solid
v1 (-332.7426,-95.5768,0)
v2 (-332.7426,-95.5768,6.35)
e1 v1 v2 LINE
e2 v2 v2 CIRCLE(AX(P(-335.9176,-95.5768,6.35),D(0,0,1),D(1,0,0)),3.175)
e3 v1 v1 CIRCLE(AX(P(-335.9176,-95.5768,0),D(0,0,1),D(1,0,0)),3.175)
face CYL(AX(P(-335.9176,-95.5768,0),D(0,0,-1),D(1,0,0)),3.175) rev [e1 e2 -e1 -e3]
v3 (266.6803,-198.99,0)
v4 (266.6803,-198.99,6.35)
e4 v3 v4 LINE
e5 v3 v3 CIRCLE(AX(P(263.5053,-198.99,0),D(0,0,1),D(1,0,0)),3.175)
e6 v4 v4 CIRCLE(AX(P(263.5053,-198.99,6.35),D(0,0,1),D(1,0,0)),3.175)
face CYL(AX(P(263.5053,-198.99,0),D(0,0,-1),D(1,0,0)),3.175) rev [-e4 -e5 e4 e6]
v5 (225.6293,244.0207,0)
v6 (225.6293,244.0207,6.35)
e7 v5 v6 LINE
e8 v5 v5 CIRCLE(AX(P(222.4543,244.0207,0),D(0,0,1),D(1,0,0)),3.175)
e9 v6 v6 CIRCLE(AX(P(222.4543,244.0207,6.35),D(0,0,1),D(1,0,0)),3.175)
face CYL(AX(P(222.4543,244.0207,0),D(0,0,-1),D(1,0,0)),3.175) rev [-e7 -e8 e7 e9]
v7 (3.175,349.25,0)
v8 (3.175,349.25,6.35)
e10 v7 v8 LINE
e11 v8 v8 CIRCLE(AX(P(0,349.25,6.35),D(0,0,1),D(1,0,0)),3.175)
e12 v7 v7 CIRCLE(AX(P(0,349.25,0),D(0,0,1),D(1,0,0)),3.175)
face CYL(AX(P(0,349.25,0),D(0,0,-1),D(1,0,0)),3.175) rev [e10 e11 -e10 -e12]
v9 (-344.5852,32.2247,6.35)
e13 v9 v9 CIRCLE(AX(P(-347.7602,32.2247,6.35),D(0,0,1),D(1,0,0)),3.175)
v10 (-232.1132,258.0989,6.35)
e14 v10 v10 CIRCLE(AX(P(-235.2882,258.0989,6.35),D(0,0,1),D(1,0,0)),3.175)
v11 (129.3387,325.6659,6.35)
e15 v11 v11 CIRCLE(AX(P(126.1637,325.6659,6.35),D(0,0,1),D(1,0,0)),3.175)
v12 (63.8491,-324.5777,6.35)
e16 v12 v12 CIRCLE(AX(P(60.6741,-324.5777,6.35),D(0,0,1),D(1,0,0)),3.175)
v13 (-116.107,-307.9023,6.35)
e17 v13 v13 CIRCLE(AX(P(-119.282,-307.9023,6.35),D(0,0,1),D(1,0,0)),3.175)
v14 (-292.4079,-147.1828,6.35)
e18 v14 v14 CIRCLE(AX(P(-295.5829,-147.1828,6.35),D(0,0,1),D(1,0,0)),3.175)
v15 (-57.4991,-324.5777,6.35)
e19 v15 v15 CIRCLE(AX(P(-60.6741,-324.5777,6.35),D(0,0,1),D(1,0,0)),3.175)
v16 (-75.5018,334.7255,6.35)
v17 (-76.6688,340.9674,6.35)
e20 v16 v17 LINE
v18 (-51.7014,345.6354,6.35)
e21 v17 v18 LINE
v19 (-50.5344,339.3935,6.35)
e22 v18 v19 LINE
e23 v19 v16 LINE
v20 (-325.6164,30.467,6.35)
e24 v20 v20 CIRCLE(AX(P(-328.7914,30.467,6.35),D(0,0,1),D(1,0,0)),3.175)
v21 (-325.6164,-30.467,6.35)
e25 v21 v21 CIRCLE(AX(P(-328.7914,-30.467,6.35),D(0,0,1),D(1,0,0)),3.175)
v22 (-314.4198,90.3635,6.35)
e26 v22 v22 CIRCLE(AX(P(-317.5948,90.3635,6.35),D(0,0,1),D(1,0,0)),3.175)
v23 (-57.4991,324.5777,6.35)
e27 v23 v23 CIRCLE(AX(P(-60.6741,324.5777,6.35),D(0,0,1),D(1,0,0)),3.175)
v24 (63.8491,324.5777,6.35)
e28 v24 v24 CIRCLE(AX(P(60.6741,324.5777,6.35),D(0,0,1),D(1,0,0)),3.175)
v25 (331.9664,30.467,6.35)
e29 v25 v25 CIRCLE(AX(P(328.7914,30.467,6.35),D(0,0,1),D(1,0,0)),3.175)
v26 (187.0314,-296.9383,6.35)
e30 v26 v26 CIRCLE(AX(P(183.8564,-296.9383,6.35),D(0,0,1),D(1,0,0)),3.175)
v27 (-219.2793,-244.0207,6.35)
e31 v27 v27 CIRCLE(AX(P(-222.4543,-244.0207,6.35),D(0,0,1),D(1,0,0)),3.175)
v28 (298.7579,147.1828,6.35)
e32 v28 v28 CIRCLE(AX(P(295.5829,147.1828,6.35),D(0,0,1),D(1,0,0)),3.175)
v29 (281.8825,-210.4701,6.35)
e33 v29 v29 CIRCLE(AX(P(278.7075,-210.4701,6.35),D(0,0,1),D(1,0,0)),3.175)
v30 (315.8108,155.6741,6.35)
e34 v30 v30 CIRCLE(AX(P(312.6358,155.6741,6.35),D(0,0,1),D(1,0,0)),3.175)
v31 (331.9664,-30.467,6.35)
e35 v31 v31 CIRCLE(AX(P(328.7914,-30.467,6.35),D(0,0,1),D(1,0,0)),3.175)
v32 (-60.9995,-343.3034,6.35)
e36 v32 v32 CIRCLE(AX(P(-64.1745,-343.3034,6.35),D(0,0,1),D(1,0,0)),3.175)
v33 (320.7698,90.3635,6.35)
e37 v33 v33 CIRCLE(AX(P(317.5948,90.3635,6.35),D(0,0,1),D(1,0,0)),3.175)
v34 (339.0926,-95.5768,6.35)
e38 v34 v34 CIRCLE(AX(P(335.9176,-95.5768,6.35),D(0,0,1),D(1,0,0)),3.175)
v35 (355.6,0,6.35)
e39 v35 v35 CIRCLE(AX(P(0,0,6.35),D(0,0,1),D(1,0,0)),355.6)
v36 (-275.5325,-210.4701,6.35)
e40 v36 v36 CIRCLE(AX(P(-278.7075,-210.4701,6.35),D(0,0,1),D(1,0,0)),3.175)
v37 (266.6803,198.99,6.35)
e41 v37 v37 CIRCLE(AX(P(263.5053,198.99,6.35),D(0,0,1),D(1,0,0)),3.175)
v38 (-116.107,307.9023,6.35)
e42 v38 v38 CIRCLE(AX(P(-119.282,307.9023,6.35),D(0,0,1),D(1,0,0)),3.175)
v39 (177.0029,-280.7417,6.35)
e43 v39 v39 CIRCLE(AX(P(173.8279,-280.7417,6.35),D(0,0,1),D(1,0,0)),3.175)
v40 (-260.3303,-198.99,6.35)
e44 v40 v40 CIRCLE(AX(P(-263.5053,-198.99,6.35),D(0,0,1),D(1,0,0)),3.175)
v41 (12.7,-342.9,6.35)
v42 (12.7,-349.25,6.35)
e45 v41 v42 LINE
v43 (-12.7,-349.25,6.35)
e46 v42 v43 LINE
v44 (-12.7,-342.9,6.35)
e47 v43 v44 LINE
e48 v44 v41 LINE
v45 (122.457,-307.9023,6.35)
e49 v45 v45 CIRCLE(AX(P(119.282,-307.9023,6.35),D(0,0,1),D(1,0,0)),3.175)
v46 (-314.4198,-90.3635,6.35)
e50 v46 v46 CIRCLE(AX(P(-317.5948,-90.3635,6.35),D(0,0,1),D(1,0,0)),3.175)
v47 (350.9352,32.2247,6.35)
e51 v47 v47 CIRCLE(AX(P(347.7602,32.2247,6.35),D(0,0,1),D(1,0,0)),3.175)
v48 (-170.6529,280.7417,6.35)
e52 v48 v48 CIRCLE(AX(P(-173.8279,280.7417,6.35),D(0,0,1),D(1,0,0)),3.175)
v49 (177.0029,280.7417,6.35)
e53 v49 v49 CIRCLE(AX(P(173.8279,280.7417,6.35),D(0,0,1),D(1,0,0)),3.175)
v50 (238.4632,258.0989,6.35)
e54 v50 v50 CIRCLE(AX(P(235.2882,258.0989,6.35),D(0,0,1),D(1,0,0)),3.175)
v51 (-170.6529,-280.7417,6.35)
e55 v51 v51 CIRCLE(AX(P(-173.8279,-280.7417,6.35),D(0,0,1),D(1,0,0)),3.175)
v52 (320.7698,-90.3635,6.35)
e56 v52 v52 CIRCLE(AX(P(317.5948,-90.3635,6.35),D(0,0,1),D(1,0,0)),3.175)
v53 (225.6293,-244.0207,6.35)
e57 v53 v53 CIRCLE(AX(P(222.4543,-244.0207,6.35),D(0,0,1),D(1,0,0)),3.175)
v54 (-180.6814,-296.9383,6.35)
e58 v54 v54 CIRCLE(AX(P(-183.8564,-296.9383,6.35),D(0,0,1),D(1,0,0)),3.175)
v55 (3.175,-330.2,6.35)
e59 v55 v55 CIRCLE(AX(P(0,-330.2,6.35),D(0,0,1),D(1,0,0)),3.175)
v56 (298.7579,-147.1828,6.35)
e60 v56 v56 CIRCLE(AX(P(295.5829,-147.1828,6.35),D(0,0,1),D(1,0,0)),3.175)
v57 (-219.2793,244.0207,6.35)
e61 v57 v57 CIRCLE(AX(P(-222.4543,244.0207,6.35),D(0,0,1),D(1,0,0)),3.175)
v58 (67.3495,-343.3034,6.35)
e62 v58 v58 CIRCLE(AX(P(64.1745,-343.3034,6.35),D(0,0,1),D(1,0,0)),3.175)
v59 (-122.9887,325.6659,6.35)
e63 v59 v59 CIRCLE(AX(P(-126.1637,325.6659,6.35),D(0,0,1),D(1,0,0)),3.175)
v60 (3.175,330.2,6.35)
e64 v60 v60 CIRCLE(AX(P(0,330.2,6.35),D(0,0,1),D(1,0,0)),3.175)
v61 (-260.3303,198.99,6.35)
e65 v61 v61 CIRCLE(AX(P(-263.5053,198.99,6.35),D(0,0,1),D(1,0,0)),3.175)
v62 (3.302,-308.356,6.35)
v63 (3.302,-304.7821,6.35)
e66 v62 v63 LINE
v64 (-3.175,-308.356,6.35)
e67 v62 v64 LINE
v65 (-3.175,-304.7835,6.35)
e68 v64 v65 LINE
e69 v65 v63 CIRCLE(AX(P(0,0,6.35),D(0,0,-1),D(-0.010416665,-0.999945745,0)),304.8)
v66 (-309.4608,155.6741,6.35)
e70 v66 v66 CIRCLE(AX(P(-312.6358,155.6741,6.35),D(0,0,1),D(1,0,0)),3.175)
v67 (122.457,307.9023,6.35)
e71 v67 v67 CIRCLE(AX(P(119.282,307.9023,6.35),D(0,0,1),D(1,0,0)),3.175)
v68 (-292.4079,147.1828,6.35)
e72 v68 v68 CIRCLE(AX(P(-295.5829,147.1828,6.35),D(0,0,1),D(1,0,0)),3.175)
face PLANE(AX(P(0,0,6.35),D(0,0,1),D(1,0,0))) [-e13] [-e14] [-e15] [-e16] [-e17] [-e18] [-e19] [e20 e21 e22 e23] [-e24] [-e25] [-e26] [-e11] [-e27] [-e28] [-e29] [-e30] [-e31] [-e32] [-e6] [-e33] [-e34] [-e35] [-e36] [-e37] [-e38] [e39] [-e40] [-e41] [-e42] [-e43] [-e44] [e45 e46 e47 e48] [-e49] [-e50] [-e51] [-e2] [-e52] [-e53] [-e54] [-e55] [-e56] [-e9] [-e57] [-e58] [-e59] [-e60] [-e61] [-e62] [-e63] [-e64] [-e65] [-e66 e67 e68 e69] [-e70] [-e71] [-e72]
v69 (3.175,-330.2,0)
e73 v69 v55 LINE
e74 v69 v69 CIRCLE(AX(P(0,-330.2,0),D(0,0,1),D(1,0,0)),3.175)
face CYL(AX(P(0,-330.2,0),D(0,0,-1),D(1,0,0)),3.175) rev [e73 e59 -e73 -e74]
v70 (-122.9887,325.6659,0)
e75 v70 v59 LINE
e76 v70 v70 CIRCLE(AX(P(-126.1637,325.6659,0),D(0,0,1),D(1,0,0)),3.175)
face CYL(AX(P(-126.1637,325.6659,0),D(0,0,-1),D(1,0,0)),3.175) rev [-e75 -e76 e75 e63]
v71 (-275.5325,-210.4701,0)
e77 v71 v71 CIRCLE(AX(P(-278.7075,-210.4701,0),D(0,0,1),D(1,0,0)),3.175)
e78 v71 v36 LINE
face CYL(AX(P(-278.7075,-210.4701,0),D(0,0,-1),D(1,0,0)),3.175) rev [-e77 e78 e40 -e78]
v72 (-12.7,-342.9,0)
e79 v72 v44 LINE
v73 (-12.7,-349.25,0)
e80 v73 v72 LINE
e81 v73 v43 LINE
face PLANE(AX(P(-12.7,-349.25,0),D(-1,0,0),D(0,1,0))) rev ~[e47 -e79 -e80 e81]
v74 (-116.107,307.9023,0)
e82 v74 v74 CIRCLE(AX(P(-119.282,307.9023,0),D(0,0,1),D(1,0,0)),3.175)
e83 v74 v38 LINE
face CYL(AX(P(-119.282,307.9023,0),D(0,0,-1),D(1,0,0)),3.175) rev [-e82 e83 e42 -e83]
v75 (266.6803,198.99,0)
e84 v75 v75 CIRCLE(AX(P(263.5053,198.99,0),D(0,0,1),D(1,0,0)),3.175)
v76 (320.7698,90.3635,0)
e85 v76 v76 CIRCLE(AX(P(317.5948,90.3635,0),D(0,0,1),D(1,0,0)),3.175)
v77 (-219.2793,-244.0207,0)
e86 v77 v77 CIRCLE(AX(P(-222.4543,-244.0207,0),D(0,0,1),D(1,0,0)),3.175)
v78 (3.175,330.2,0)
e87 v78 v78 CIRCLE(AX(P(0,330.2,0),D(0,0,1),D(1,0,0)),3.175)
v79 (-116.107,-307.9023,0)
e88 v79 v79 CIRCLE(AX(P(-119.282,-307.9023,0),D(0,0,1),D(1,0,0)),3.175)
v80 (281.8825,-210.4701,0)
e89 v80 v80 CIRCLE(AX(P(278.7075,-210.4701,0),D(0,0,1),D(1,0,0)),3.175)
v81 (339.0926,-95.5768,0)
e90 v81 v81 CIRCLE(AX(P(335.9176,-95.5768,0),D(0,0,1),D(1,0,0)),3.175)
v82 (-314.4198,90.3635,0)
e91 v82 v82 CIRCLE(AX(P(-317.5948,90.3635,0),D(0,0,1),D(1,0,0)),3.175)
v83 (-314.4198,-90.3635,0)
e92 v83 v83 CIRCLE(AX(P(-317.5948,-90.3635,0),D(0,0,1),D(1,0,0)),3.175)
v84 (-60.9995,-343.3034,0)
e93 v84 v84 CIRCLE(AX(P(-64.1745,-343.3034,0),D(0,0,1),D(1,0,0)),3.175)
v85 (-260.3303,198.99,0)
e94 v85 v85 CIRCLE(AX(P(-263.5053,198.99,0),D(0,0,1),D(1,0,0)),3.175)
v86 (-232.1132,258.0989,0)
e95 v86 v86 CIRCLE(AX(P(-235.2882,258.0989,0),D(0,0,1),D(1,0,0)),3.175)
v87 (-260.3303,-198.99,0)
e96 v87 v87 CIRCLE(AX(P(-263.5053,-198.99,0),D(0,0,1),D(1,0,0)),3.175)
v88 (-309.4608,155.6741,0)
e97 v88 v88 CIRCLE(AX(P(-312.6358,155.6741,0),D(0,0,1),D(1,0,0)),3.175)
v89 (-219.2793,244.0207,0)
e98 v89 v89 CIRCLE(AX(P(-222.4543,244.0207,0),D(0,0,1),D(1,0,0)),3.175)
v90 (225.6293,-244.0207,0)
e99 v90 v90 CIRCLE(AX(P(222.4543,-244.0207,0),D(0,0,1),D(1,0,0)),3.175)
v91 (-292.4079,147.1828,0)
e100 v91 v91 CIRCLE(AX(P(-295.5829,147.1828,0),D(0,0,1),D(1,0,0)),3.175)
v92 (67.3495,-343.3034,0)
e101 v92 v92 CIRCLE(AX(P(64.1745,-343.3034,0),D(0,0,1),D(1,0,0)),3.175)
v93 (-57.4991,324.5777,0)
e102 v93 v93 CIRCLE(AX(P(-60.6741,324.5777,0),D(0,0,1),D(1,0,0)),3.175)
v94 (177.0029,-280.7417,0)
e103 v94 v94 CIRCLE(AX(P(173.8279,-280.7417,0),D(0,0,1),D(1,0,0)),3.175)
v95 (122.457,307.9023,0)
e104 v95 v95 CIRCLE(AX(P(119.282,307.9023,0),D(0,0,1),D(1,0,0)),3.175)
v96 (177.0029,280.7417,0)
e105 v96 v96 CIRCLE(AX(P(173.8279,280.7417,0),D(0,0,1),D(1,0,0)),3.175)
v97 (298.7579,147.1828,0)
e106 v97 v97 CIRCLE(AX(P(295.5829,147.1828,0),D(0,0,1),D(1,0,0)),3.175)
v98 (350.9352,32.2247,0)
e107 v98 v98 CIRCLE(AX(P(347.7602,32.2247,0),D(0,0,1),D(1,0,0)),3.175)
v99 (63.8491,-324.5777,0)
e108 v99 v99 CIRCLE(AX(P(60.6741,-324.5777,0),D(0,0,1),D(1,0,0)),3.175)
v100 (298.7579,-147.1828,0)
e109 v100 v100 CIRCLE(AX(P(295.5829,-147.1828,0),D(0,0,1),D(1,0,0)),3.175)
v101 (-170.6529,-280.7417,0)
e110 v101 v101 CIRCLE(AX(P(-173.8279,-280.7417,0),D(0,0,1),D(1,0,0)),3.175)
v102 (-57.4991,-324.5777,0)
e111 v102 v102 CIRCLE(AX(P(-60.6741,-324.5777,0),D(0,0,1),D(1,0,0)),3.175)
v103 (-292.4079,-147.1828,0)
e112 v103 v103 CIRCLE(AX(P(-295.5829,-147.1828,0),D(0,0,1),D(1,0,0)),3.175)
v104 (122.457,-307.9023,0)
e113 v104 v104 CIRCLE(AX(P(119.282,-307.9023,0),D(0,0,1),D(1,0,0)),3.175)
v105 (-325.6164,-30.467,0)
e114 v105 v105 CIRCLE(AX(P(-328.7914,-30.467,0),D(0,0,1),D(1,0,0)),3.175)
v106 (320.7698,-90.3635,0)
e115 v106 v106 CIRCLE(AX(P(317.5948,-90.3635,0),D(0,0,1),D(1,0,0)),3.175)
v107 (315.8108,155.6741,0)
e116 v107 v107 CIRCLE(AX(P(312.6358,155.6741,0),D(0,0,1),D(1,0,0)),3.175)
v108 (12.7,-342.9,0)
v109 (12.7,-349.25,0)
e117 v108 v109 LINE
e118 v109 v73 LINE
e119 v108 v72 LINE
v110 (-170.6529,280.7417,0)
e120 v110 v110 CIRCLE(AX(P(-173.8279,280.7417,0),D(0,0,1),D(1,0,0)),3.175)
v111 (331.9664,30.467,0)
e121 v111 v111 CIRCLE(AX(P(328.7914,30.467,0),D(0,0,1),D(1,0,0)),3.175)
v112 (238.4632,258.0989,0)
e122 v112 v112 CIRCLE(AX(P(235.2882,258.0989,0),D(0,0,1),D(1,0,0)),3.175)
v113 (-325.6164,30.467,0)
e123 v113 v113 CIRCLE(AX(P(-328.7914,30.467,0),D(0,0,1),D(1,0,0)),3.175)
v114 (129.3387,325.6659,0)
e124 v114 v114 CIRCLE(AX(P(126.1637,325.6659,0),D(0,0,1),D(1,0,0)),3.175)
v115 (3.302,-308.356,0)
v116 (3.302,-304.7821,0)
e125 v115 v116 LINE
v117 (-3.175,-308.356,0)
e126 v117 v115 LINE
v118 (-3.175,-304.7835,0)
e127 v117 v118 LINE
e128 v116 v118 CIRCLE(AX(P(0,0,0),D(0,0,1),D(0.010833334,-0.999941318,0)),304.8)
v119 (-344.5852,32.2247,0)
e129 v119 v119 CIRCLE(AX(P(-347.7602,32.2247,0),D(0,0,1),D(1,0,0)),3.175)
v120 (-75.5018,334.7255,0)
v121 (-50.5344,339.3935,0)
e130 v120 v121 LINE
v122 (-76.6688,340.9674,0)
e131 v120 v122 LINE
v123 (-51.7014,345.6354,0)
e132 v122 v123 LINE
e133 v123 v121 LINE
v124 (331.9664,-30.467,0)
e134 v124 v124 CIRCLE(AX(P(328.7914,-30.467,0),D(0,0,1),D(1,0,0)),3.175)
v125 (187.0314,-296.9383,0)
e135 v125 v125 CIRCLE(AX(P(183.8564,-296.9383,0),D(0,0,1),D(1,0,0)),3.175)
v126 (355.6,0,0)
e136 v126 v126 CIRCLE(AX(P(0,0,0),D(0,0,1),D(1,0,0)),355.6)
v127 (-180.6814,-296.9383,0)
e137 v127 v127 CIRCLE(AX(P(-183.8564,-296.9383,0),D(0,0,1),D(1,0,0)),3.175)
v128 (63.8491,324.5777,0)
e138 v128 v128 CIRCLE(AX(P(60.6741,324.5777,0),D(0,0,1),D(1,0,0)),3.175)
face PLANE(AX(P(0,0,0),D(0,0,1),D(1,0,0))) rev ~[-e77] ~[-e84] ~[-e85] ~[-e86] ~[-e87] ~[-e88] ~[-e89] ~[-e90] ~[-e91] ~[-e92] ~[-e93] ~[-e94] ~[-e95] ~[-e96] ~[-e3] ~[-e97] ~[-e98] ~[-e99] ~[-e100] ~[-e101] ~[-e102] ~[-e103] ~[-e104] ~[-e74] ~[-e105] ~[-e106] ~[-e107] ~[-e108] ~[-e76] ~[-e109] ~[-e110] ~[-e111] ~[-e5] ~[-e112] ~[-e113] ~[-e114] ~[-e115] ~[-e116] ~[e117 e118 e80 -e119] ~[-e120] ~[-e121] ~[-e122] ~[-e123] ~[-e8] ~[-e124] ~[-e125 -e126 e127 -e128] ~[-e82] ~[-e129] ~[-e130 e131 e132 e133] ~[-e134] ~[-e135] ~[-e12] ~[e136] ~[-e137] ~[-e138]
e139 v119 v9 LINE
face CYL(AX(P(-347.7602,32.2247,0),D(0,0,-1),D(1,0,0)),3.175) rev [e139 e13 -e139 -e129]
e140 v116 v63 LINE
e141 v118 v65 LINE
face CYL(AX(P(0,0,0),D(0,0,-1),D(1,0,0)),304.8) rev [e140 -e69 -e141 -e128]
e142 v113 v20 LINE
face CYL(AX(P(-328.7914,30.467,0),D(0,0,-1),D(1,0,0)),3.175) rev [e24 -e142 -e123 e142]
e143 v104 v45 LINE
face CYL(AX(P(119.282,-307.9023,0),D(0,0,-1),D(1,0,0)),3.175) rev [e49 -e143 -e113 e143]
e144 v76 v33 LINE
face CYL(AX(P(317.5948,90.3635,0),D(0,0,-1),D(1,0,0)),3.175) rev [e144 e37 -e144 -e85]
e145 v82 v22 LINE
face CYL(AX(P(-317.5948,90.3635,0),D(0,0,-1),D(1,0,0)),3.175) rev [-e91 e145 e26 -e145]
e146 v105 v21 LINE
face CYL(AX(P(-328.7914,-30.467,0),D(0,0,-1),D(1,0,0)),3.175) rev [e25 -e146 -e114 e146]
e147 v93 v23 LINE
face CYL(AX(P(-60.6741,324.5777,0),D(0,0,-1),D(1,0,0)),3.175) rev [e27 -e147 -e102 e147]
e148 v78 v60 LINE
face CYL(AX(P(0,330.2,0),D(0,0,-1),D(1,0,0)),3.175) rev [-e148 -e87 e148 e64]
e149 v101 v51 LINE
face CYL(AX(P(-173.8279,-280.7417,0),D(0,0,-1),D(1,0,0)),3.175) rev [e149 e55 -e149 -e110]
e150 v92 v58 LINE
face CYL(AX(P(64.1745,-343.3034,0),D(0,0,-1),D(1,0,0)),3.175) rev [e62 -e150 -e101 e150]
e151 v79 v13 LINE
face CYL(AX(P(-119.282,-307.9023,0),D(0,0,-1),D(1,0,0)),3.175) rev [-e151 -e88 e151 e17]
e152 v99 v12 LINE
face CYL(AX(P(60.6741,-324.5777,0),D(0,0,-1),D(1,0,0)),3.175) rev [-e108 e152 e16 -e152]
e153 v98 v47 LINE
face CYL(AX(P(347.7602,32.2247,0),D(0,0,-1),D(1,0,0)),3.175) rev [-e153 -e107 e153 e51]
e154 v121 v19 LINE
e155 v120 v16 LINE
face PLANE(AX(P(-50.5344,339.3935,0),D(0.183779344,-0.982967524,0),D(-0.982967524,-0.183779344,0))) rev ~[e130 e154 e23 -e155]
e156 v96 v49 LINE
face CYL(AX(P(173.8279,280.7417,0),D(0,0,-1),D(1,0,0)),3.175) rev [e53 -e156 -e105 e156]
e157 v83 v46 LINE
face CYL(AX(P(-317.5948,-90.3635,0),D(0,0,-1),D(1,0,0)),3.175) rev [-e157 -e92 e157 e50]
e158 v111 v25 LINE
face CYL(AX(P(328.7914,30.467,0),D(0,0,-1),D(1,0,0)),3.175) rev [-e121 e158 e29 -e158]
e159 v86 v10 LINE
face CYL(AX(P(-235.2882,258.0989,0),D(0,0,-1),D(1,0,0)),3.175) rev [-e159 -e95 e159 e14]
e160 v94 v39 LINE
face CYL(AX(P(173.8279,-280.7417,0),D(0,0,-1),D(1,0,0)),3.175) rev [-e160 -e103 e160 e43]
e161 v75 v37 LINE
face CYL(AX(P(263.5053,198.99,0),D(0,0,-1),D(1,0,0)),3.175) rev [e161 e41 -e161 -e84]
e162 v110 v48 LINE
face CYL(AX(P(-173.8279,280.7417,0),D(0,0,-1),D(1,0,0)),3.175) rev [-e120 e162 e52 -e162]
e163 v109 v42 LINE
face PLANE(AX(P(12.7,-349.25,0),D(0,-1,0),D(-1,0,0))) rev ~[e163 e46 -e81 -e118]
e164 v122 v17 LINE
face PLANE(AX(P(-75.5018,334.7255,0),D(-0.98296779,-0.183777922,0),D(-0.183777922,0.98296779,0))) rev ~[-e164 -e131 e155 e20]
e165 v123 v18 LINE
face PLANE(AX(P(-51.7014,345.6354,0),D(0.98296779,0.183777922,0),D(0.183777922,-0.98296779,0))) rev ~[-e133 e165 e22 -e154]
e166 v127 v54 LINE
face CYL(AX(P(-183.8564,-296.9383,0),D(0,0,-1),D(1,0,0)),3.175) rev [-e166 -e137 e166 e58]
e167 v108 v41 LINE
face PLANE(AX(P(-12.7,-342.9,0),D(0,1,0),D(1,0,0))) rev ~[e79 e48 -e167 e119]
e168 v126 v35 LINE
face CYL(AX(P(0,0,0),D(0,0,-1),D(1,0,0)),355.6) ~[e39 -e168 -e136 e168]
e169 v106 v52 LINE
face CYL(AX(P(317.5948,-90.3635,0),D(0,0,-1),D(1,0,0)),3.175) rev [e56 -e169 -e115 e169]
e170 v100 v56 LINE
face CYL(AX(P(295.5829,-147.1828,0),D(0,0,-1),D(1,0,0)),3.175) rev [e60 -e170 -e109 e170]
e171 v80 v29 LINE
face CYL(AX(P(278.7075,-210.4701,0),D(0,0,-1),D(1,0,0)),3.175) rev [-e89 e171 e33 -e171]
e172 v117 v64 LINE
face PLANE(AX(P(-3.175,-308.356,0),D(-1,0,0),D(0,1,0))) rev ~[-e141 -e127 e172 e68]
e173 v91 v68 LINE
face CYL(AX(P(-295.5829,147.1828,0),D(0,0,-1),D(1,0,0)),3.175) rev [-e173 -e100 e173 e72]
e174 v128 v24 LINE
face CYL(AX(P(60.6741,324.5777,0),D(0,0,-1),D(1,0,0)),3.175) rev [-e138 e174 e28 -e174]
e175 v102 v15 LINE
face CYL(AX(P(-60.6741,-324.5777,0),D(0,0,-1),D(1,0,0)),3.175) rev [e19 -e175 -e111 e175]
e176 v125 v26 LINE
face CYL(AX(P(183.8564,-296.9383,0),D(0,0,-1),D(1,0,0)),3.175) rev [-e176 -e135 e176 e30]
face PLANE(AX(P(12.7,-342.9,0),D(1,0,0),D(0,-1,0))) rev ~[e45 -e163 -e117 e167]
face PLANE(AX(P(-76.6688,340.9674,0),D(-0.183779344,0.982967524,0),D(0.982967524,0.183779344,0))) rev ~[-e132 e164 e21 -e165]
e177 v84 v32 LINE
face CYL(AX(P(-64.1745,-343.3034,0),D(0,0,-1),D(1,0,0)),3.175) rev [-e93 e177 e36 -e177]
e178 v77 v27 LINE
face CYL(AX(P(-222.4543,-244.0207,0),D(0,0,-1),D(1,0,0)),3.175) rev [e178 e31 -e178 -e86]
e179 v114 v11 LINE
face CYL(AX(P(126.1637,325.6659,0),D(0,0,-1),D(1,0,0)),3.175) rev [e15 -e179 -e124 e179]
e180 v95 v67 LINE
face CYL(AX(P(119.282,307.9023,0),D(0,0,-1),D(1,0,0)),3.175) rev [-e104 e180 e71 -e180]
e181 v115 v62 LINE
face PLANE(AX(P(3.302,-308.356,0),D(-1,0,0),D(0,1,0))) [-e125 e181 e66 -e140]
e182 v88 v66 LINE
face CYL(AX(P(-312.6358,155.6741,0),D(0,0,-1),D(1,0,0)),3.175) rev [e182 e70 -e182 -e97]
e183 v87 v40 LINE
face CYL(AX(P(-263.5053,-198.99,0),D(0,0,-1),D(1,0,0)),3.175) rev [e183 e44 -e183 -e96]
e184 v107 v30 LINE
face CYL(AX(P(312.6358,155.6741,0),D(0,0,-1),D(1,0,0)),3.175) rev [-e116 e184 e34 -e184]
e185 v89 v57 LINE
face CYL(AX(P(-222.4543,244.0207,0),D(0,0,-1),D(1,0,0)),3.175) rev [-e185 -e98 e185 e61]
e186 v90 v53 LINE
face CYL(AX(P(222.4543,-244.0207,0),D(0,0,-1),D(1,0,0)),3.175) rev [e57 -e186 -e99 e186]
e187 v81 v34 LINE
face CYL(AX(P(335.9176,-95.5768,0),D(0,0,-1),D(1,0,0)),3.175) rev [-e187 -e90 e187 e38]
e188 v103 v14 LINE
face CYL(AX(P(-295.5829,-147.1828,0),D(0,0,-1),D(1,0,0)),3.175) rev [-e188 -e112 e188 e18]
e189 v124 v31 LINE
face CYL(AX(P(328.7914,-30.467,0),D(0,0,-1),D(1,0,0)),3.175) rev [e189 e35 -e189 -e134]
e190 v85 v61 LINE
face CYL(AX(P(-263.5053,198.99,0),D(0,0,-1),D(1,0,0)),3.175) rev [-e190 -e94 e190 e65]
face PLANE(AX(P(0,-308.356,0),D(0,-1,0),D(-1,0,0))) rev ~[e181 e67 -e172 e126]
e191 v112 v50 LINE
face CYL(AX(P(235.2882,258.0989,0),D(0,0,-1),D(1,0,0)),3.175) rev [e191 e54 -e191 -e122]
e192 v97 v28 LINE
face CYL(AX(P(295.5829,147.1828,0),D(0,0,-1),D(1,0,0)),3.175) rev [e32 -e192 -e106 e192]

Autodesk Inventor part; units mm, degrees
ref_plane "YZ Plane" through (0, 0, 0) normal (1, 0, 0) x (0, 1, 0)
ref_plane "XZ Plane" through (0, 0, 0) normal (0, 1, 0) x (-1, 0, 0)
ref_plane "XY Plane" through (0, 0, 0) normal (0, 0, 1) x (1, 0, 0)
sketch "Sketch1" plane through (0, 0, 0) normal (0, 0, 1) x (1, 0, 0)
  circle A0 centre (0, 0) radius 355.6
  circle A1 centre (0, 0) radius 304.8
  circle A2 centre (0, 330.2) radius 3.175
  circle A3 centre (0, 349.25) radius 3.175
  circle A4 centre (119.282, 307.9023) radius 3.175
  circle A5 centre (126.1637, 325.6659) radius 3.175
  circle A6 centre (222.4543, 244.0207) radius 3.175
  circle A7 centre (235.2882, 258.0989) radius 3.175
  circle A8 centre (295.5829, 147.1828) radius 3.175
  circle A9 centre (312.6358, 155.6741) radius 3.175
  circle A10 centre (328.7914, 30.467) radius 3.175
  circle A11 centre (347.7602, 32.2247) radius 3.175
  circle A12 centre (317.5948, -90.3635) radius 3.175
  circle A13 centre (335.9176, -95.5768) radius 3.175
  circle A14 centre (263.5053, -198.99) radius 3.175
  circle A15 centre (278.7075, -210.4701) radius 3.175
  circle A16 centre (173.8279, -280.7417) radius 3.175
  circle A17 centre (183.8564, -296.9383) radius 3.175
  circle A18 centre (60.6741, -324.5777) radius 3.175
  circle A19 centre (64.1745, -343.3034) radius 3.175
  circle A20 centre (-60.6741, -324.5777) radius 3.175
  circle A21 centre (-64.1745, -343.3034) radius 3.175
  circle A22 centre (-173.8279, -280.7417) radius 3.175
  circle A23 centre (-183.8564, -296.9383) radius 3.175
  circle A24 centre (-263.5053, -198.99) radius 3.175
  circle A25 centre (-278.7075, -210.4701) radius 3.175
  circle A26 centre (-317.5948, -90.3635) radius 3.175
  circle A27 centre (-335.9176, -95.5768) radius 3.175
  circle A28 centre (-328.7914, 30.467) radius 3.175
  circle A29 centre (-347.7602, 32.2247) radius 3.175
  circle A30 centre (-295.5829, 147.1828) radius 3.175
  circle A31 centre (-312.6358, 155.6741) radius 3.175
  circle A32 centre (-222.4543, 244.0207) radius 3.175
  circle A33 centre (-235.2882, 258.0989) radius 3.175
  circle A34 centre (-119.282, 307.9023) radius 3.175
  circle A35 centre (-126.1637, 325.6659) radius 3.175
  circle A36 centre (0, -330.2) radius 3.175
  line L0 (0, -308.356) -> (3.302, -308.356)
  line L1 (0, -308.356) -> (-3.175, -308.356)
  line L2 (3.302, -308.356) -> (3.302, -304.7821)
  line L3 (-3.175, -308.356) -> (-3.175, -304.7835)
  circle A37 centre (119.282, -307.9023) radius 3.175
  line L4 (111.391, -287.5334) -> (114.4701, -286.3406)
  line L5 (111.391, -287.5334) -> (108.4304, -288.6803)
  line L6 (114.4701, -286.3406) -> (113.179, -283.008)
  line L7 (108.4304, -288.6803) -> (107.1399, -285.3491)
  circle A38 centre (222.4543, -244.0207) radius 3.175
  line L8 (207.7381, -227.8778) -> (210.1783, -225.6533)
  line L9 (207.7381, -227.8778) -> (205.3917, -230.0168)
  line L10 (210.1783, -225.6533) -> (207.7706, -223.0122)
  line L11 (205.3917, -230.0168) -> (202.9849, -227.3767)
  circle A39 centre (295.5829, -147.1828) radius 3.175
  line L12 (276.029, -137.4461) -> (277.5008, -134.4903)
  line L13 (276.029, -137.4461) -> (274.6138, -140.2882)
  line L14 (277.5008, -134.4903) -> (274.3016, -132.8972)
  line L15 (274.6138, -140.2882) -> (271.4157, -138.6958)
  circle A40 centre (328.7914, -30.467) radius 3.175
  line L16 (307.0406, -28.4515) -> (307.3453, -25.1636)
  line L17 (307.0406, -28.4515) -> (306.7477, -31.613)
  line L18 (307.3453, -25.1636) -> (303.7866, -24.8338)
  line L19 (306.7477, -31.613) -> (303.1904, -31.2833)
  circle A41 centre (317.5948, 90.3635) radius 3.175
  line L20 (296.5847, 84.3856) -> (295.6811, 87.5616)
  line L21 (296.5847, 84.3856) -> (297.4536, 81.3318)
  line L22 (295.6811, 87.5616) -> (292.2436, 86.5835)
  line L23 (297.4536, 81.3318) -> (294.0174, 80.3542)
  circle A42 centre (263.5053, 198.99) radius 3.175
  line L24 (246.0734, 185.826) -> (244.0835, 188.4611)
  line L25 (246.0734, 185.826) -> (247.9868, 183.2923)
  line L26 (244.0835, 188.4611) -> (241.2315, 186.3073)
  line L27 (247.9868, 183.2923) -> (245.1358, 181.1394)
  circle A43 centre (173.8279, 280.7417) radius 3.175
  line L28 (162.3285, 262.1696) -> (159.5211, 263.9078)
  line L29 (162.3285, 262.1696) -> (165.028, 260.4981)
  line L30 (159.5211, 263.9078) -> (157.6397, 260.8693)
  line L31 (165.028, 260.4981) -> (163.1473, 257.4607)
  circle A44 centre (60.6741, 324.5777) radius 3.175
  line L32 (56.6603, 303.1057) -> (53.4145, 303.7124)
  line L33 (56.6603, 303.1057) -> (59.7812, 302.5222)
  line L34 (53.4145, 303.7124) -> (52.7578, 300.1994)
  line L35 (59.7812, 302.5222) -> (59.1248, 299.0105)
  circle A45 centre (-60.6741, 324.5777) radius 3.175
  line L36 (-56.6603, 303.1057) -> (-59.906, 302.4989)
  line L37 (-56.6603, 303.1057) -> (-53.5393, 303.6891)
  line L38 (-59.906, 302.4989) -> (-59.2493, 298.9859)
  line L39 (-53.5393, 303.6891) -> (-52.8829, 300.1774)
  circle A46 centre (-173.8279, 280.7417) radius 3.175
  line L40 (-162.3285, 262.1696) -> (-165.1359, 260.4313)
  line L41 (-162.3285, 262.1696) -> (-159.6291, 263.841)
  line L42 (-165.1359, 260.4313) -> (-163.2545, 257.3927)
  line L43 (-159.6291, 263.841) -> (-157.7484, 260.8035)
  circle A47 centre (-263.5053, 198.99) radius 3.175
  line L44 (-246.0734, 185.826) -> (-248.0633, 183.191)
  line L45 (-246.0734, 185.826) -> (-244.16, 188.3597)
  line L46 (-248.0633, 183.191) -> (-245.2113, 181.0372)
  line L47 (-244.16, 188.3597) -> (-241.3091, 186.2068)
  circle A48 centre (-317.5948, 90.3635) radius 3.175
  line L48 (-296.5847, 84.3856) -> (-297.4883, 81.2097)
  line L49 (-296.5847, 84.3856) -> (-295.7158, 87.4394)
  line L50 (-297.4883, 81.2097) -> (-294.0509, 80.2316)
  line L51 (-295.7158, 87.4394) -> (-292.2797, 86.4618)
  circle A49 centre (-328.7914, -30.467) radius 3.175
  line L52 (-307.0406, -28.4515) -> (-306.7359, -31.7394)
  line L53 (-307.0406, -28.4515) -> (-307.3336, -25.29)
  line L54 (-306.7359, -31.7394) -> (-303.1773, -31.4097)
  line L55 (-307.3336, -25.29) -> (-303.7763, -24.9604)
  circle A50 centre (-295.5829, -147.1828) radius 3.175
  line L56 (-276.029, -137.4461) -> (-274.5571, -140.4019)
  line L57 (-276.029, -137.4461) -> (-277.4442, -134.604)
  line L58 (-274.5571, -140.4019) -> (-271.3579, -138.8089)
  line L59 (-277.4442, -134.604) -> (-274.2462, -133.0115)
  circle A51 centre (-222.4543, -244.0207) radius 3.175
  line L60 (-207.7381, -227.8778) -> (-205.2979, -230.1024)
  line L61 (-207.7381, -227.8778) -> (-210.0844, -225.7389)
  line L62 (-205.2979, -230.1024) -> (-202.8902, -227.4612)
  line L63 (-210.0844, -225.7389) -> (-207.6776, -223.0987)
  circle A52 centre (-119.282, -307.9023) radius 3.175
  line L64 (-111.391, -287.5334) -> (-108.312, -288.7262)
  line L65 (-111.391, -287.5334) -> (-114.3516, -286.3865)
  line L66 (-108.312, -288.7262) -> (-107.021, -285.3937)
  line L67 (-114.3516, -286.3865) -> (-113.0611, -283.0552)
  line L68 (0, -342.9) -> (12.7, -342.9)
  line L69 (12.7, -342.9) -> (12.7, -349.25)
  line L70 (12.7, -349.25) -> (-12.7, -349.25)
  line L71 (-12.7, -349.25) -> (-12.7, -342.9)
  line L72 (-12.7, -342.9) -> (0, -342.9)
  line L73 (-63.0181, 337.0595) -> (-75.5018, 334.7255)
  line L74 (-75.5018, 334.7255) -> (-76.6688, 340.9674)
  line L75 (-76.6688, 340.9674) -> (-51.7014, 345.6354)
  line L76 (-51.7014, 345.6354) -> (-50.5344, 339.3935)
  line L77 (-50.5344, 339.3935) -> (-63.0181, 337.0595)
  circle A53 centre (0, 0) radius 304.8
  dimension "d1" = 711.2
  dimension "d3" = 609.6
  dimension "d6" = 6.35
  dimension "d7" = 6.35
  dimension "d10" = 360
  dimension "d13" = 6.35
  dimension "d15" = 3.302
  dimension "d18" = 360
  dimension "d20" = 342.9
  dimension "d21" = 12.7
  dimension "d22" = 6.35
  dimension "d23" = 25.4
  dimension "d26" = 360
extrude "Extrusion1" add sketch "Sketch1" along normal blind 6.35 contours A0 | A1 L22 L20 L21 L23 | L18 L16 L17 L19 A1 | A1 L26 L24 L25 L27 | L14 L12 L13 L15 A1 | A1 L30 L28 L29 L31 | L10 L8 L9 L11 A1 | A1 L34 L32 L33 L35 | L6 L4 L5 L7 A1 | A1 L38 L36 L37 L39 | A1 L42 L40 L41 L43 | L66 L64 L65 L67 A1 | A1 L46 L44 L45 L47 | L62 L60 L61 L63 A1 | A1 L50 L48 L49 L51 | L58 L56 L57 L59 A1 | A1 L54 L52 L53 L55
properties part number "laser circle 3D"
